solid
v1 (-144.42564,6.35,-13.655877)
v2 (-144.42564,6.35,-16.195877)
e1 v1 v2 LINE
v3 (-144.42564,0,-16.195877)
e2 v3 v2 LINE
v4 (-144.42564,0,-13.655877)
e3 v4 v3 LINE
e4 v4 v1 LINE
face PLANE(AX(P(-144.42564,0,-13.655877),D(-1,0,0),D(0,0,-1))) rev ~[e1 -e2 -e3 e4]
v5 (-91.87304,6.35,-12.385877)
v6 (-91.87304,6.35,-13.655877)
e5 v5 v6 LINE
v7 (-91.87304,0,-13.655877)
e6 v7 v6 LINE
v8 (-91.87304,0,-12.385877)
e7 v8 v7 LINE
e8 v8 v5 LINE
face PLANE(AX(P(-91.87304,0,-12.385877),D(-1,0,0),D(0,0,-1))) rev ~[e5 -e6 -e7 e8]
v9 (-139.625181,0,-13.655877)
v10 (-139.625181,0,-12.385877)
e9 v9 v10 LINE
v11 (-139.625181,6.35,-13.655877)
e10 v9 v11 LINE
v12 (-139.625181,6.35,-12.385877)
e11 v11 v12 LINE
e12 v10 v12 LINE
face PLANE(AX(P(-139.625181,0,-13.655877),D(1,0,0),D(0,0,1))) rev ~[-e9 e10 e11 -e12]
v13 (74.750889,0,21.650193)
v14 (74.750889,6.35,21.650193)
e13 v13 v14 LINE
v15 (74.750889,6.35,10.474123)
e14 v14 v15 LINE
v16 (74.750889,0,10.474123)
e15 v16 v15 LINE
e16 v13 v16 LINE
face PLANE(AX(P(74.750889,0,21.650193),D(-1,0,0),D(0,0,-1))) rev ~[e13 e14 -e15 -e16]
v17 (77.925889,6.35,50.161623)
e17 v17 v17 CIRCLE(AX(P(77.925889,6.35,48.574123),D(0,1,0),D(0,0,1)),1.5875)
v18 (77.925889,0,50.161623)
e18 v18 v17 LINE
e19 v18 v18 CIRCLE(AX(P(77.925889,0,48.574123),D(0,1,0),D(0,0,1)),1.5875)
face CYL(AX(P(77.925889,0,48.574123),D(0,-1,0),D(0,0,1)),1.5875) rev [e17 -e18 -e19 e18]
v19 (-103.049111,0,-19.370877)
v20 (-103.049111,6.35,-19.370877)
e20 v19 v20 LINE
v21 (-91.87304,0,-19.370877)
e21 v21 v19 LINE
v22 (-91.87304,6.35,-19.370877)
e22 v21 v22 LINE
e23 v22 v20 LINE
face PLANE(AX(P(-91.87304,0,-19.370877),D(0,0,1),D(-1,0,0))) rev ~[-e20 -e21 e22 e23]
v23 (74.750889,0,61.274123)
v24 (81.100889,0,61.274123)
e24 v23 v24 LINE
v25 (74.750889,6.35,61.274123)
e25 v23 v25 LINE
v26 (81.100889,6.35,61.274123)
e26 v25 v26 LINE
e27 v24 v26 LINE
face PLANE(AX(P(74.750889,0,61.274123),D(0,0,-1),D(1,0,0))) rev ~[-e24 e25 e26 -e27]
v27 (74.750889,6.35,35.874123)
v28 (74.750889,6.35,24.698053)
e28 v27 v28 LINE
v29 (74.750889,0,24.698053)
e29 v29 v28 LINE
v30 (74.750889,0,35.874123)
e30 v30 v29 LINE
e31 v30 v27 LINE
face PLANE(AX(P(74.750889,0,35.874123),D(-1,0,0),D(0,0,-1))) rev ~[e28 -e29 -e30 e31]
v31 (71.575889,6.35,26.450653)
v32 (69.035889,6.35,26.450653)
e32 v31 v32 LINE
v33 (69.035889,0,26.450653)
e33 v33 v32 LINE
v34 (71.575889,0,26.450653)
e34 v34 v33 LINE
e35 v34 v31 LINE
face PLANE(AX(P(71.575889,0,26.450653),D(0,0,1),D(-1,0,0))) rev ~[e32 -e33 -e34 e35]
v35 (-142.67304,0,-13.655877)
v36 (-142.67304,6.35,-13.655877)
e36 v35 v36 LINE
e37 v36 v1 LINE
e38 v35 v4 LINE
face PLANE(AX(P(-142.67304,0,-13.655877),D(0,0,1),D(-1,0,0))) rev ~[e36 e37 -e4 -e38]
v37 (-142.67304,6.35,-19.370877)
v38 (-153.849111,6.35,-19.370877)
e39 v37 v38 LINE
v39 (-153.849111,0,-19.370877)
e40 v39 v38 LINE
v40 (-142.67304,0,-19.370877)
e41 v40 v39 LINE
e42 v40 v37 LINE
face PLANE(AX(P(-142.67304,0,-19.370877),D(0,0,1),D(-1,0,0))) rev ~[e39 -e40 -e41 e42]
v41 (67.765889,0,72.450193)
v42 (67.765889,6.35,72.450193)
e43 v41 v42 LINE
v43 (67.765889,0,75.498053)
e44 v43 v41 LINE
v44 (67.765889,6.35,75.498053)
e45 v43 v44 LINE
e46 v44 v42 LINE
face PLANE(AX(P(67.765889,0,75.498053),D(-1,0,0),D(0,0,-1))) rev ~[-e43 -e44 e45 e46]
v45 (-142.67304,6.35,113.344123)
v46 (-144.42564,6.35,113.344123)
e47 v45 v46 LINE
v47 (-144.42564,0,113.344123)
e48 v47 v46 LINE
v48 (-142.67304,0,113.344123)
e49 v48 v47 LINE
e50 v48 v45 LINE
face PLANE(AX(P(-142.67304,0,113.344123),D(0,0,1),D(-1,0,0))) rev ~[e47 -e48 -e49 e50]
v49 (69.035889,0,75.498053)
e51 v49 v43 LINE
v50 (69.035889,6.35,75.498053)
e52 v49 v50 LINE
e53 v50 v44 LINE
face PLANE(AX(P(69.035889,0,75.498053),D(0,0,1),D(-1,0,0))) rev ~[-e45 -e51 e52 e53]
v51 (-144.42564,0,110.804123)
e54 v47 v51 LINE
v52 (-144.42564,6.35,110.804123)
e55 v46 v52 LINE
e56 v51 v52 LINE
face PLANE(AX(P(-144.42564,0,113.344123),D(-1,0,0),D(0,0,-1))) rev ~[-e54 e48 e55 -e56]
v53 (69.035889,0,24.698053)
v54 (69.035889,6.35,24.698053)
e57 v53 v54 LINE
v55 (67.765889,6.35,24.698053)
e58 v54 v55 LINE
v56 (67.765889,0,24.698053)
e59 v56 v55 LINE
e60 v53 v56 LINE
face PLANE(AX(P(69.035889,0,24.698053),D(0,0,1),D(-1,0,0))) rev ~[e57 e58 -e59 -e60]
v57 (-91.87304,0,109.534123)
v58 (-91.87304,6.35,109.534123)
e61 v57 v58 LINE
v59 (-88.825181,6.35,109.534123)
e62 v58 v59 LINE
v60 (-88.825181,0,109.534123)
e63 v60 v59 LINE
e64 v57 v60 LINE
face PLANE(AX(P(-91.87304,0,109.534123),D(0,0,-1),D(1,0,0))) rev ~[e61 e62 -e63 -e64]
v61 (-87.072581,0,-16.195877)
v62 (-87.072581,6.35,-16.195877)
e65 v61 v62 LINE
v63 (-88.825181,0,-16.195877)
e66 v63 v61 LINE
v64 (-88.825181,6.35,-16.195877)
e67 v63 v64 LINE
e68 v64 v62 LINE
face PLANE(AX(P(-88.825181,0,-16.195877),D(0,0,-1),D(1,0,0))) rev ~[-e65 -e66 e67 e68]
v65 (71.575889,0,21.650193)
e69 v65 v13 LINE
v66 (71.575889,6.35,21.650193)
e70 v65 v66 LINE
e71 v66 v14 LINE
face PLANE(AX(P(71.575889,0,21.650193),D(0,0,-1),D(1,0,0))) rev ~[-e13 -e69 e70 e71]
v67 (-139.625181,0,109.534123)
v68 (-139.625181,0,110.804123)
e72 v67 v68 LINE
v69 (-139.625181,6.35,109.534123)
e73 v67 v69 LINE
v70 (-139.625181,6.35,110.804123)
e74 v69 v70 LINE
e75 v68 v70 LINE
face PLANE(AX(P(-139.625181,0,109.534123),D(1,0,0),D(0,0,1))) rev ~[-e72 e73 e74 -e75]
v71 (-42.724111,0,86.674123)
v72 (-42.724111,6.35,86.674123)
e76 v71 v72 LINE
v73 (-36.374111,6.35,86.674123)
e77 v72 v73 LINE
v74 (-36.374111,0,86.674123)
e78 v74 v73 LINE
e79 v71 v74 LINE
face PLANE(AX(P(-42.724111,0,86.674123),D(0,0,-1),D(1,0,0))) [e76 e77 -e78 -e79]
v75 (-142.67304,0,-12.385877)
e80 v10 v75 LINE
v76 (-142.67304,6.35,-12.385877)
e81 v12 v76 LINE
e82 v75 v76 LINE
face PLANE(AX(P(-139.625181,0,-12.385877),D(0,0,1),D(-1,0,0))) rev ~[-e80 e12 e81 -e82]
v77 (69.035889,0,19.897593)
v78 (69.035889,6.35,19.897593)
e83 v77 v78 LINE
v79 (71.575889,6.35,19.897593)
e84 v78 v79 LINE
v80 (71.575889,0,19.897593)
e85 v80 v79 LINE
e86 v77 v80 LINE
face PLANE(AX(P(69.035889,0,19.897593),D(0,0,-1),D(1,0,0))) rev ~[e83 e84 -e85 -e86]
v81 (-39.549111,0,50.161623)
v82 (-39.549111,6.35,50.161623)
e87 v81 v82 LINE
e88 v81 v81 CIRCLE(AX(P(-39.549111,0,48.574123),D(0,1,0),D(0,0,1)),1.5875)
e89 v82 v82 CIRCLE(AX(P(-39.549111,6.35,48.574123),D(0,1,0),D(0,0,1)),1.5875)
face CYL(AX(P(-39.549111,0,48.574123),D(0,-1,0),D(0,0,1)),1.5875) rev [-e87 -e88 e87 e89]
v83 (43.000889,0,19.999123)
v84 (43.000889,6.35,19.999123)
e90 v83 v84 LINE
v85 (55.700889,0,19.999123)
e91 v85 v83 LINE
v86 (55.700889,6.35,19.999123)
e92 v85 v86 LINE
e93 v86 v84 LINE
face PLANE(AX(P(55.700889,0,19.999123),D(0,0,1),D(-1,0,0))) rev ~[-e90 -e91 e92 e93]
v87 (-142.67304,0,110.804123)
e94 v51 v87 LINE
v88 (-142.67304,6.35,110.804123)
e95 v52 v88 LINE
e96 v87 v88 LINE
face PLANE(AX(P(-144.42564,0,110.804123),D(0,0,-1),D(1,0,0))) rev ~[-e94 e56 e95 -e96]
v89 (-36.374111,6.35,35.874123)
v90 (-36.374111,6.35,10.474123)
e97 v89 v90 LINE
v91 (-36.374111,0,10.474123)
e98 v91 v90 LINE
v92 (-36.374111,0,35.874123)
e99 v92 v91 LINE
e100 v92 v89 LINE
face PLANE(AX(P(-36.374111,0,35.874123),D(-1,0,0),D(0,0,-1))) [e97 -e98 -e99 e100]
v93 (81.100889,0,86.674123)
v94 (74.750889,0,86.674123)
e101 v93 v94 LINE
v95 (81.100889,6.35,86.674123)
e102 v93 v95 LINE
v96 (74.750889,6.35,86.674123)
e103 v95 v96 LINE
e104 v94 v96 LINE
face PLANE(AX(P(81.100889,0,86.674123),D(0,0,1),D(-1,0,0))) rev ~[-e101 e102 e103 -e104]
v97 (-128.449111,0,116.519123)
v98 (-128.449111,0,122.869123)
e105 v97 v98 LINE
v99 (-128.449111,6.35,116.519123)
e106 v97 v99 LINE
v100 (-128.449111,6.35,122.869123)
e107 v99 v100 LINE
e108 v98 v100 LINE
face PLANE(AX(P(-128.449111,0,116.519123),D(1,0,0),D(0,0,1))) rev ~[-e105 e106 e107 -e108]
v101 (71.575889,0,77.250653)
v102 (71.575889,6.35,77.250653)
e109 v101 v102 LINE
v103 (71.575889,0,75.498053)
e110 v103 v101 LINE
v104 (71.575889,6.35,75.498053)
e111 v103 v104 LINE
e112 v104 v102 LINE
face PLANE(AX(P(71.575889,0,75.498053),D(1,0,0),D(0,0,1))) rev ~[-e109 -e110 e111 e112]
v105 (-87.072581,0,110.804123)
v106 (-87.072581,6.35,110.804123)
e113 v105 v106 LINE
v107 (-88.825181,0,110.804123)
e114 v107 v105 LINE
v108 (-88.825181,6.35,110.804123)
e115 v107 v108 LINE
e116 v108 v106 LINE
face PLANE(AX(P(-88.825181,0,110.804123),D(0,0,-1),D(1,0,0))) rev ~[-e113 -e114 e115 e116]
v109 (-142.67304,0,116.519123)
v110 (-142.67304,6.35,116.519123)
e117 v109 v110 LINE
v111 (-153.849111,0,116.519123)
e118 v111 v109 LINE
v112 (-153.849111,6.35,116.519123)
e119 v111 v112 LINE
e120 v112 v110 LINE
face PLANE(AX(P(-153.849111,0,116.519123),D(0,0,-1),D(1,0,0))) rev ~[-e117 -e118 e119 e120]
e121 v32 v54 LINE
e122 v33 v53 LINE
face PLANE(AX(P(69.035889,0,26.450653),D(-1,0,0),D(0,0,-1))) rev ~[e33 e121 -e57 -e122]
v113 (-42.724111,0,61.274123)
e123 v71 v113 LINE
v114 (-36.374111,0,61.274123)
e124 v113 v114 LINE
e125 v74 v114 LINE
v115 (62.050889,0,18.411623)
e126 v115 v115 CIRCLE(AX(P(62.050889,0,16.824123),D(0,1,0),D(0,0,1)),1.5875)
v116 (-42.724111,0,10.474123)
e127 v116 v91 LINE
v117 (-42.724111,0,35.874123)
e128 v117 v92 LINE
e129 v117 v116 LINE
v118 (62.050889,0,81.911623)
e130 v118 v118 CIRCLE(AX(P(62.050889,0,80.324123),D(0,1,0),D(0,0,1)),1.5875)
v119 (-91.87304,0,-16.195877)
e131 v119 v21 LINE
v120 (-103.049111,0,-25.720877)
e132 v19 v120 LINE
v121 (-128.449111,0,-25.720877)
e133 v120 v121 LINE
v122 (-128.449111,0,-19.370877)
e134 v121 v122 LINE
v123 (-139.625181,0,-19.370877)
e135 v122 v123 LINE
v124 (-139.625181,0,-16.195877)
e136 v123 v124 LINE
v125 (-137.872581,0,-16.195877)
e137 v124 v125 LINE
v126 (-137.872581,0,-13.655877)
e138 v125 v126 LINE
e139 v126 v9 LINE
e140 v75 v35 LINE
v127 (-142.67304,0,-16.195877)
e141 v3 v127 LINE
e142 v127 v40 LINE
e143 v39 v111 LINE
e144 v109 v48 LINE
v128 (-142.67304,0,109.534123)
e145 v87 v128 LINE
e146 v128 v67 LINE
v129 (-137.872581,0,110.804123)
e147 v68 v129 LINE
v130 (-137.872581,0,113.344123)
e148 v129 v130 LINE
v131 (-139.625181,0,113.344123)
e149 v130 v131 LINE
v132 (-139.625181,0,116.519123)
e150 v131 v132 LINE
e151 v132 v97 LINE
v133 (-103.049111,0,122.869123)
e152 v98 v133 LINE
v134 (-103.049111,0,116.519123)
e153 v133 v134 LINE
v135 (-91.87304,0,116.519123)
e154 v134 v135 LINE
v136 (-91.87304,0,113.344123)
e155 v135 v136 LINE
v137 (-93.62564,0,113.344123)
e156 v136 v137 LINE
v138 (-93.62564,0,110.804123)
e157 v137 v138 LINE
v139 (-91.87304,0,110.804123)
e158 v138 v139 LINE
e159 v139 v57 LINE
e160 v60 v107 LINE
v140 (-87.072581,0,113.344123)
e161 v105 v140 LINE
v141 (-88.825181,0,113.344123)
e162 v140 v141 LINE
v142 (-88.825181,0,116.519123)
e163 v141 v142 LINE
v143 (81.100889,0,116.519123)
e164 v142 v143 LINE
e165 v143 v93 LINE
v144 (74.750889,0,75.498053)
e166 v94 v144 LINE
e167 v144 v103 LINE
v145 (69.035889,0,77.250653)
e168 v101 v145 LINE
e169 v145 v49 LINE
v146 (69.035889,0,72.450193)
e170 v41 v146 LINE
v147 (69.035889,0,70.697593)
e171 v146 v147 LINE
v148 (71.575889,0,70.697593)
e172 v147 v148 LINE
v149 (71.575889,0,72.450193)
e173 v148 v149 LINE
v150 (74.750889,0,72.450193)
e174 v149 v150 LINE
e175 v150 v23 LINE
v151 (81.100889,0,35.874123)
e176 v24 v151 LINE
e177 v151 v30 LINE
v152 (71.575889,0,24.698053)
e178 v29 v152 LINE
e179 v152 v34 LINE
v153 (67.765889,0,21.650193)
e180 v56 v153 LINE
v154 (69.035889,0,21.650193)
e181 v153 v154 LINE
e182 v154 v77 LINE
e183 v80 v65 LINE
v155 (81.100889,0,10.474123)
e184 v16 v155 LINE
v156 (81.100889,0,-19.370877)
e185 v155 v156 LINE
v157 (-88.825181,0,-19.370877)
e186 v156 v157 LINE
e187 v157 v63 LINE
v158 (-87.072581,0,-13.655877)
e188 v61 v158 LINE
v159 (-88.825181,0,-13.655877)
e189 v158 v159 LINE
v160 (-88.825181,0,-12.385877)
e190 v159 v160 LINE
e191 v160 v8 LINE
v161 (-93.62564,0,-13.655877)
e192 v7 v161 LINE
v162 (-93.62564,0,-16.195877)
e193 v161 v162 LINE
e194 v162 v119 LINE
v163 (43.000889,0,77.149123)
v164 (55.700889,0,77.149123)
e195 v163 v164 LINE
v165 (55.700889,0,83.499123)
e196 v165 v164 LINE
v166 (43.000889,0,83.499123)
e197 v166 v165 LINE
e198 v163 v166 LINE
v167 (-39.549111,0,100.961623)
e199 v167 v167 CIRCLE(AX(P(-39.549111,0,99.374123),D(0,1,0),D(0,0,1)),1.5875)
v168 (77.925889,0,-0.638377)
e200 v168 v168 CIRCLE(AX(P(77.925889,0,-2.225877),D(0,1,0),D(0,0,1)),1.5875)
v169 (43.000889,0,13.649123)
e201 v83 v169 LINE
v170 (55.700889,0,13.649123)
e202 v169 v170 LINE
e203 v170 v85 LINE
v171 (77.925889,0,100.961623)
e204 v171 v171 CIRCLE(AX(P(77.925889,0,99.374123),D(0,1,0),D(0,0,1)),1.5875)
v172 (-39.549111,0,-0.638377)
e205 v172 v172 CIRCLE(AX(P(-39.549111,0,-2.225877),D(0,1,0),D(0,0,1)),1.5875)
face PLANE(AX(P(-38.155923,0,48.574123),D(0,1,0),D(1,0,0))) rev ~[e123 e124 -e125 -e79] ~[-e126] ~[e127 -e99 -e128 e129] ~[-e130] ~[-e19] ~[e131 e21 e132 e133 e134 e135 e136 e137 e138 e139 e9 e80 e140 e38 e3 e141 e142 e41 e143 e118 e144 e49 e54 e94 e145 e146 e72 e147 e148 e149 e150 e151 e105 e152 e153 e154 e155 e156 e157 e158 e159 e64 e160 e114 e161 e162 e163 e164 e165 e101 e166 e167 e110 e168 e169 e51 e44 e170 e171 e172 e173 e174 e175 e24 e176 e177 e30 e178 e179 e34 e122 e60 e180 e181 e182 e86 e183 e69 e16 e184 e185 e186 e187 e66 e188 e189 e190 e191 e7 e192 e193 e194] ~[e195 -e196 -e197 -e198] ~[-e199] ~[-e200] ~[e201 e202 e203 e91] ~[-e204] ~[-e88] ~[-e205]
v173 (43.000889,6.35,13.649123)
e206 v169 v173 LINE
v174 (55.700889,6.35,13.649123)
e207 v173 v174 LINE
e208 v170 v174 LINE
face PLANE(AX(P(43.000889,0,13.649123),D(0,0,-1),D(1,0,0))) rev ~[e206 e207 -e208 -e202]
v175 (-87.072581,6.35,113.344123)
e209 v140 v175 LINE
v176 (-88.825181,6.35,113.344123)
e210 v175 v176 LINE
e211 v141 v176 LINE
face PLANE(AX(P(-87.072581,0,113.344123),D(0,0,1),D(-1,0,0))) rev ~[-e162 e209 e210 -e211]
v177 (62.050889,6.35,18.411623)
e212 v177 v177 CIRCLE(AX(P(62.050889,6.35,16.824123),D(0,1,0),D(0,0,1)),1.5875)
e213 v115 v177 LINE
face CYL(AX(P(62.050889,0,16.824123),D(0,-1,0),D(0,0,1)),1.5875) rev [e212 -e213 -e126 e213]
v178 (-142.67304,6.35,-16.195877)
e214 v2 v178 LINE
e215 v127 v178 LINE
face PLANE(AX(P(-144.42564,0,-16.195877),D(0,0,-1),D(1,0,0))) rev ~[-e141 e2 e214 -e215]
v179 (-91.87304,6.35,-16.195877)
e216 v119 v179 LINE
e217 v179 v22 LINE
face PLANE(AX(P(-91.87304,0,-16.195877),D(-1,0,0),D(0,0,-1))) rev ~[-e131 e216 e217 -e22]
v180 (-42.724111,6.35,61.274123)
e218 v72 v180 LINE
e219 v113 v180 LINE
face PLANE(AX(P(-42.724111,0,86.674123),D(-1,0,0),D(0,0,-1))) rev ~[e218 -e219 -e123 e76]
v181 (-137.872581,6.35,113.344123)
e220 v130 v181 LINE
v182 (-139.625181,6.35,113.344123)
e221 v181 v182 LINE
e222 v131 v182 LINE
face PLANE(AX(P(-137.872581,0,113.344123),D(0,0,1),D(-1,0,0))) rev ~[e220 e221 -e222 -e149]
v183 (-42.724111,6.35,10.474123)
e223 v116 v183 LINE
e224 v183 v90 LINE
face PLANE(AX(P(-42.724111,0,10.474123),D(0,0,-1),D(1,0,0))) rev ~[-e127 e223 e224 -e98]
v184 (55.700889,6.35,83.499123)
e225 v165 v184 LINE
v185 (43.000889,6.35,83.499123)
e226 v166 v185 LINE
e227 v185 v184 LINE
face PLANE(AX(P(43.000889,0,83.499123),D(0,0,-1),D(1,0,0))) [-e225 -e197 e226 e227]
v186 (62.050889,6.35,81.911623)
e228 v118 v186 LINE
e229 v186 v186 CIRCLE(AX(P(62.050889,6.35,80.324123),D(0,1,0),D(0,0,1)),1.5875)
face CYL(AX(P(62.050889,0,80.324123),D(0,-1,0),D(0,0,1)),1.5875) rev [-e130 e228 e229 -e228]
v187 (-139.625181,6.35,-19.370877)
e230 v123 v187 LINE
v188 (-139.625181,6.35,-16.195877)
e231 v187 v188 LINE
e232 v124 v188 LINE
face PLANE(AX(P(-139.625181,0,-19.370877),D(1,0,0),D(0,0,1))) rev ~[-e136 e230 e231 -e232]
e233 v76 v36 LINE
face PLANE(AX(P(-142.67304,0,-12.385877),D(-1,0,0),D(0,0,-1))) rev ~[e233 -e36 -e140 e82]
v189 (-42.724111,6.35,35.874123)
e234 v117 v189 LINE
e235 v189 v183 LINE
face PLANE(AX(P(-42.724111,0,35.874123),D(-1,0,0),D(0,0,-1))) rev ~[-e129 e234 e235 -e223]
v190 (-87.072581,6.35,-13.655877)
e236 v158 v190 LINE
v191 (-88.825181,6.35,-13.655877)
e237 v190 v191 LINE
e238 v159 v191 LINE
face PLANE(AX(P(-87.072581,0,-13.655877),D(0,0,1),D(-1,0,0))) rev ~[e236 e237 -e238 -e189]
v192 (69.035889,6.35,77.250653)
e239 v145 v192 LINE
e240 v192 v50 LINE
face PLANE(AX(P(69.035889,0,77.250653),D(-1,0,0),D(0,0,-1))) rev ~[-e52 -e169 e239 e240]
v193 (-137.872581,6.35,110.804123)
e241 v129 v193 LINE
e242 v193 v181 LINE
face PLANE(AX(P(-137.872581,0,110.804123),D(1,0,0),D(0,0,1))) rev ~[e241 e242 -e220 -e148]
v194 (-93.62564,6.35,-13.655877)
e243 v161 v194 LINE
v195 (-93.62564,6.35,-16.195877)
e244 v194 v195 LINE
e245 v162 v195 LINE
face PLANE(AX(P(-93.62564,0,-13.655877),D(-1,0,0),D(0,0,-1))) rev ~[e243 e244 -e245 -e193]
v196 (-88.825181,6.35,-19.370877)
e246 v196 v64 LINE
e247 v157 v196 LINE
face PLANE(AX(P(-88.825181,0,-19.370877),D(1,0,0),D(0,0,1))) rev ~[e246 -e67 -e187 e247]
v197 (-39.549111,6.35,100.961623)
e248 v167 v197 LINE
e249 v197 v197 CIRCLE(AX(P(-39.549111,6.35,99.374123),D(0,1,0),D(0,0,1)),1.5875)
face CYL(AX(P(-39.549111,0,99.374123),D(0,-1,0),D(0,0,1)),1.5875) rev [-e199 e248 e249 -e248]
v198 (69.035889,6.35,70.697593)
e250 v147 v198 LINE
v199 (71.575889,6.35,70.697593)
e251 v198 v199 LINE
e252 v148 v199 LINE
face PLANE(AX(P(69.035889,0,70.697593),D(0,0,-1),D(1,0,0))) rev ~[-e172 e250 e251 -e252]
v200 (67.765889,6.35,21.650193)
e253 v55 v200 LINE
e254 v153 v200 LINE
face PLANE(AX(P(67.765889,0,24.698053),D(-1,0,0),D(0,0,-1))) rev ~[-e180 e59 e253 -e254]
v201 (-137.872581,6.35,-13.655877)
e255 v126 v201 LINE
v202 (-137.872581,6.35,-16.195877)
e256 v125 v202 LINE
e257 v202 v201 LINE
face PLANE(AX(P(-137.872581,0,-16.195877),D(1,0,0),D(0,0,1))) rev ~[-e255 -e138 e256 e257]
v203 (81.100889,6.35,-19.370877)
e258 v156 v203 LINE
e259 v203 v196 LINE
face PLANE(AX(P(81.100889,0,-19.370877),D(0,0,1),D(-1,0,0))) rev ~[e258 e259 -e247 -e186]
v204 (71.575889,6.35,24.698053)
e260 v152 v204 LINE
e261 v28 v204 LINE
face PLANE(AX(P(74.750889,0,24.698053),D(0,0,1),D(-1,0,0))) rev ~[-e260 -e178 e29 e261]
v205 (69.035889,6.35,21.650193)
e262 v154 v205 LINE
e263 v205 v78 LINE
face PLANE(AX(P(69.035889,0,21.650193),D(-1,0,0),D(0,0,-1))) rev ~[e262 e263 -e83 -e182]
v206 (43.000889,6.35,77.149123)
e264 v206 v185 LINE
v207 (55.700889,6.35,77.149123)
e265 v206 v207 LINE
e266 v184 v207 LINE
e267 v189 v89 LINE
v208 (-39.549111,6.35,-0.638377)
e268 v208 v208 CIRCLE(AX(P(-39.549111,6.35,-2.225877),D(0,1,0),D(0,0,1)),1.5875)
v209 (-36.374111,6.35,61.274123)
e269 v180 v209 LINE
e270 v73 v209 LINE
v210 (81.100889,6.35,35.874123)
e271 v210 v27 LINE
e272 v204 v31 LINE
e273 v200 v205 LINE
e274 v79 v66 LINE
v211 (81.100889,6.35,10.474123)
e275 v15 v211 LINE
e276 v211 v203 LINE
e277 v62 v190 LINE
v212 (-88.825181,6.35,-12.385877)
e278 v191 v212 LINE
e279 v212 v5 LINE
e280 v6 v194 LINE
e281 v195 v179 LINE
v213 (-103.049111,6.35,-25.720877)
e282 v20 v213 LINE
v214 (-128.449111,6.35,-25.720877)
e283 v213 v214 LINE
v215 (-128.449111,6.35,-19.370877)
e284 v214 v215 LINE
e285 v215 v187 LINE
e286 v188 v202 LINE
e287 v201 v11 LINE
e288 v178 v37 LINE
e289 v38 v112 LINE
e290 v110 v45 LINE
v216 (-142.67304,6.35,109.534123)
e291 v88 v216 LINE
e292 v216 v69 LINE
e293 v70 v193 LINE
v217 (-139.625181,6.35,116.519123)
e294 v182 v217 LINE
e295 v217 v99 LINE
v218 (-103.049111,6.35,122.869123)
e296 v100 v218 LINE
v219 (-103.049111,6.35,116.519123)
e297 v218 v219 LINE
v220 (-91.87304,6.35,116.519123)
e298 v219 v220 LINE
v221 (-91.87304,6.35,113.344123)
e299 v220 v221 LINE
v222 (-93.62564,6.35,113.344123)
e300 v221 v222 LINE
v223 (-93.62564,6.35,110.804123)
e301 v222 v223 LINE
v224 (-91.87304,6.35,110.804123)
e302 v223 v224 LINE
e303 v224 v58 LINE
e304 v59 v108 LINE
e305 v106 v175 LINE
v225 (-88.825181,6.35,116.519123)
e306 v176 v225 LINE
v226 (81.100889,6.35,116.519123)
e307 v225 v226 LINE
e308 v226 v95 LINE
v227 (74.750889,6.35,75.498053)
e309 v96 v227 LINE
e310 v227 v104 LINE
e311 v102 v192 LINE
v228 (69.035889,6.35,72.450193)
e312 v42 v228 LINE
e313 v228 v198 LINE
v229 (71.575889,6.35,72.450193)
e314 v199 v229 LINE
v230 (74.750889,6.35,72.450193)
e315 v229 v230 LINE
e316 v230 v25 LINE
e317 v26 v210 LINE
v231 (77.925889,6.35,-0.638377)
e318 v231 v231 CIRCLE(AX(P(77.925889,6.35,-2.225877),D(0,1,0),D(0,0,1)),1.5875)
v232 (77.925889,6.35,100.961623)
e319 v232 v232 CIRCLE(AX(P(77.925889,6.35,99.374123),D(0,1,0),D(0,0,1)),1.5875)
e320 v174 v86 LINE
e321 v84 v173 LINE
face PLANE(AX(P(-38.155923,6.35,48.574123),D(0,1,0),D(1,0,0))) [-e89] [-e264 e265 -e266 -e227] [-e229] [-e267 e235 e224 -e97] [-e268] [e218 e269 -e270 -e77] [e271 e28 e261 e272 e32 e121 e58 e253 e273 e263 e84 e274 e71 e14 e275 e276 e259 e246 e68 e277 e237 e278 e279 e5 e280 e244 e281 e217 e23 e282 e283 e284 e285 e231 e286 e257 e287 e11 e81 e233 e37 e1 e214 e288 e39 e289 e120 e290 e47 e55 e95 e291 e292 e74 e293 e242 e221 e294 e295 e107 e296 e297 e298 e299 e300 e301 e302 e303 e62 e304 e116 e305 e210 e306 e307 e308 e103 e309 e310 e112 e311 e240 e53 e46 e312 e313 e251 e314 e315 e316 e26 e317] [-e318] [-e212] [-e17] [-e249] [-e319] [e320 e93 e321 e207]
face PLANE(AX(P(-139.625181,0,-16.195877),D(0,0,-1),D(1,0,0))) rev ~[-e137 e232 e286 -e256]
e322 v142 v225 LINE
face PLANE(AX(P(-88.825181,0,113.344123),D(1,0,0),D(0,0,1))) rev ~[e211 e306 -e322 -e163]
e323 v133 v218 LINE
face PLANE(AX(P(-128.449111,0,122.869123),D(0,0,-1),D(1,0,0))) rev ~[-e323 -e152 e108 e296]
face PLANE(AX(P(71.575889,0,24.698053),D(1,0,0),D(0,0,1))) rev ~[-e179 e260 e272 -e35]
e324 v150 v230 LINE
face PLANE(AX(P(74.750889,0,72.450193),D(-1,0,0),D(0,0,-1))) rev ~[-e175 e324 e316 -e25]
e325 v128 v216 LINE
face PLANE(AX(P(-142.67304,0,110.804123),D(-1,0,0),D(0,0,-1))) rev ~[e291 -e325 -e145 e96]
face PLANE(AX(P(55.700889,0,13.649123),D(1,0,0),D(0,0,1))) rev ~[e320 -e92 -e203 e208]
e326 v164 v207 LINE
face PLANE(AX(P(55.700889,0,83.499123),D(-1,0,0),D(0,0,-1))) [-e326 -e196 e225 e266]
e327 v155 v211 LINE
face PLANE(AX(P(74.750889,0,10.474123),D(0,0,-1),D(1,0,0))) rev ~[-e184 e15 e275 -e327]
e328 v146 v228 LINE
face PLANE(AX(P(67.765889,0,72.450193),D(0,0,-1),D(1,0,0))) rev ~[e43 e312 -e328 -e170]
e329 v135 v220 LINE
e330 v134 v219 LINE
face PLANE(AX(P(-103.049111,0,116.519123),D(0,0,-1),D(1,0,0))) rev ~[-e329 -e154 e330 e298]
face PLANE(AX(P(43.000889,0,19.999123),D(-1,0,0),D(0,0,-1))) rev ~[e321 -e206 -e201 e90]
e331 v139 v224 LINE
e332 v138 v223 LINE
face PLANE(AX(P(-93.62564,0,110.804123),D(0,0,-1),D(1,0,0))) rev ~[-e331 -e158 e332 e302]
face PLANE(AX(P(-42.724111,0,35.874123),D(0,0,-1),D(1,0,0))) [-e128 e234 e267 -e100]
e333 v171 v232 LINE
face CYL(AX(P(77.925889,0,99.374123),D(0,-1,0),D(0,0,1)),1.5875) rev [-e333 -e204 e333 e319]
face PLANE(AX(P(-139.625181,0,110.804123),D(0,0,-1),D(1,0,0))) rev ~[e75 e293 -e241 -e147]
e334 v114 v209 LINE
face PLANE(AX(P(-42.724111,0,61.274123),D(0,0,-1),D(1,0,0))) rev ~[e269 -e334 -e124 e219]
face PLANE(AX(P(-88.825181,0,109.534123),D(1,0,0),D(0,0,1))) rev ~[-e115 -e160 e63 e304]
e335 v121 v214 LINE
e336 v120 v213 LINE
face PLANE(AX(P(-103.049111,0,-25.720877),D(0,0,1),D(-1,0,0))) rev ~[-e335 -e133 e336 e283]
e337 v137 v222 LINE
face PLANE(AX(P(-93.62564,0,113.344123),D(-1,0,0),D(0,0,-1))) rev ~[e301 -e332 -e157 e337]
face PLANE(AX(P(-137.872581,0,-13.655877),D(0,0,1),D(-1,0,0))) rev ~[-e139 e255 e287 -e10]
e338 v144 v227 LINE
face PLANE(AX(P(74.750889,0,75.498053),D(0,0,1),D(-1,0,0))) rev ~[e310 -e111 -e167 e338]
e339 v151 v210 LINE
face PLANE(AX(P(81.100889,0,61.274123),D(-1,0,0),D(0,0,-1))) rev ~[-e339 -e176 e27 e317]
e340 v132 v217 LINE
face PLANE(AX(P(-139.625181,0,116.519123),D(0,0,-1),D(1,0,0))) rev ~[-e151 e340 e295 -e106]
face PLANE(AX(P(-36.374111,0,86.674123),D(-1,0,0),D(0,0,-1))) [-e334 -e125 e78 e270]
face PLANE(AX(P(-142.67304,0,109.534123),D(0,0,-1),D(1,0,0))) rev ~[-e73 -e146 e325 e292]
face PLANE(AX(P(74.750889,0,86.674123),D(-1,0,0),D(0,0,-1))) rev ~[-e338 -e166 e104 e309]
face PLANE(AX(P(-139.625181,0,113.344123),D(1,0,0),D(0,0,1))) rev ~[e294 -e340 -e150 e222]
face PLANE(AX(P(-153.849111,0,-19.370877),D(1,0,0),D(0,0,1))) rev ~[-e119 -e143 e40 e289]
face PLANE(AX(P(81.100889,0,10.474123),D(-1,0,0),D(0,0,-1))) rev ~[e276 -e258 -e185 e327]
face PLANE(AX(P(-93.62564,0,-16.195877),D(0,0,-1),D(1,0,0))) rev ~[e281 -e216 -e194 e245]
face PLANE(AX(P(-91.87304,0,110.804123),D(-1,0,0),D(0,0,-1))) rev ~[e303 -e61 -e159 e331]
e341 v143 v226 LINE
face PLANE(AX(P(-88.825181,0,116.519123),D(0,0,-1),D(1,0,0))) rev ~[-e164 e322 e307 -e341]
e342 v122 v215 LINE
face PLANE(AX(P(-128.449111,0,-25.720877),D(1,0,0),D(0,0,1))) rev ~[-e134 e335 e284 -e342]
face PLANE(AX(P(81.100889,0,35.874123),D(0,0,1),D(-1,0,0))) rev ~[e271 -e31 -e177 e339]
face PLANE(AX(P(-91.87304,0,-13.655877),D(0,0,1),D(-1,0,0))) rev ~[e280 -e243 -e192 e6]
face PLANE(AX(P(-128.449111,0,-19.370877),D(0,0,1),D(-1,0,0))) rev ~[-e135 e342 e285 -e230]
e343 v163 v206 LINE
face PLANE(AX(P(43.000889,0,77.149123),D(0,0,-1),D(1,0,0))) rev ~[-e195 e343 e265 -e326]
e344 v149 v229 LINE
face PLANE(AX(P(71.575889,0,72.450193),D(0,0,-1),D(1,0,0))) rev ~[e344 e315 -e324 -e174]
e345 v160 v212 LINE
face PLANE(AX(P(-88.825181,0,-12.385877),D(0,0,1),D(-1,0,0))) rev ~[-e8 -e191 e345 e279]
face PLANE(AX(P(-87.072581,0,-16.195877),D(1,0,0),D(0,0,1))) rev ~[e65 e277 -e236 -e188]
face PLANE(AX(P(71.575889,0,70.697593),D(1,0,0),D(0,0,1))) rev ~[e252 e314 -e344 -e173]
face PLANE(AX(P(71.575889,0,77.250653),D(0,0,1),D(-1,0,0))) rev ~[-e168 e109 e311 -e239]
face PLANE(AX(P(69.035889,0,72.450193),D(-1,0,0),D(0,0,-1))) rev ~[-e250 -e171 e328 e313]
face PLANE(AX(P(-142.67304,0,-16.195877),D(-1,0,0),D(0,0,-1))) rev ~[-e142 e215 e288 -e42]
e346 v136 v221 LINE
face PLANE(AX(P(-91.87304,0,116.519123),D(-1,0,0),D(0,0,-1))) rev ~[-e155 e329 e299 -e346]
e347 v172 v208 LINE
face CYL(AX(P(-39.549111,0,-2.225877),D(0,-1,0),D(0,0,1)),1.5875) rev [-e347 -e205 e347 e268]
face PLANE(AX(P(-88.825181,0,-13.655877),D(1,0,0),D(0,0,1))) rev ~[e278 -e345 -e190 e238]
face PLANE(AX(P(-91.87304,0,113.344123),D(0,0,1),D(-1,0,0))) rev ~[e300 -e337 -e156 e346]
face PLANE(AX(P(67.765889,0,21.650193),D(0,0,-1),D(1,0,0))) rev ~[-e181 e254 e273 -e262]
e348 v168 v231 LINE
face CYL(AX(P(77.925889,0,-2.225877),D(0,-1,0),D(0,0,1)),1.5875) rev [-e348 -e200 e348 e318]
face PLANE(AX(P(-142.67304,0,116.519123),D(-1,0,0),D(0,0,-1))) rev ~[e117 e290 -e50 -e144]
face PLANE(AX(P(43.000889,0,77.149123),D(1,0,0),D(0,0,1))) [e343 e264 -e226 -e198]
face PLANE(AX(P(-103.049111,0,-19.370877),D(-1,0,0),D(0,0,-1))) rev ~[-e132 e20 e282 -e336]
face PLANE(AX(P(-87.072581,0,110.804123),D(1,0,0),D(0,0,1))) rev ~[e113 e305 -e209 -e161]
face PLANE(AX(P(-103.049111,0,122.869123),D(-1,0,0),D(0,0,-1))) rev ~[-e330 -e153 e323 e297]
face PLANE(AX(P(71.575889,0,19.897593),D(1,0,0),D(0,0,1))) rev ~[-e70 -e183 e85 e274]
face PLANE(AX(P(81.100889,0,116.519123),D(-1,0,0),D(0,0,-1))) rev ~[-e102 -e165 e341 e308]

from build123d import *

# Parameters (mm, degrees)
SKETCH1_R           = 1.5875
SKETCH1_W           = 6.35
SKETCH1_H           = 25.4
BOSS_EXTRUDE1_DEPTH = 6.35


with BuildPart() as part:
    # Sketch1 → Boss-Extrude1 (new body)
    with BuildSketch(Plane(origin=(0, 0, 0), x_dir=(1, 0, 0), z_dir=(0, 1, 0))):
        Polygon((-153.849110766, 19.370876928), (-153.849110766, -116.519123072), (-142.673040444, -116.519123072), (-142.673040444, -113.344123072), (-144.425640444, -113.344123072), (-144.425640444, -110.804123072), (-142.673040444, -110.804123072), (-142.673040444, -109.534123072), (-139.625181088, -109.534123072), (-139.625181088, -110.804123072), (-137.872581088, -110.804123072), (-137.872581088, -113.344123072), (-139.625181088, -113.344123072), (-139.625181088, -116.519123072), (-128.449110766, -116.519123072), (-128.449110766, -122.869123072), (-103.049110766, -122.869123072), (-103.049110766, -116.519123072), (-91.873040444, -116.519123072), (-91.873040444, -113.344123072), (-93.625640444, -113.344123072), (-93.625640444, -110.804123072), (-91.873040444, -110.804123072), (-91.873040444, -109.534123072), (-88.825181088, -109.534123072), (-88.825181088, -110.804123072), (-87.072581088, -110.804123072), (-87.072581088, -113.344123072), (-88.825181088, -113.344123072), (-88.825181088, -116.519123072), (-77.649110766, -116.519123072), (74.750889234, -116.519123072), (81.100889234, -116.519123072), (81.100889234, -86.674123072), (74.750889234, -86.674123072), (74.750889234, -75.49805275), (71.575889234, -75.49805275), (71.575889234, -77.25065275), (69.035889234, -77.25065275), (69.035889234, -75.49805275), (67.765889234, -75.49805275), (67.765889234, -72.450193394), (69.035889234, -72.450193394), (69.035889234, -70.697593394), (71.575889234, -70.697593394), (71.575889234, -72.450193394), (74.750889234, -72.450193394), (74.750889234, -61.274123072), (81.100889234, -61.274123072), (81.100889234, -35.874123072), (74.750889234, -35.874123072), (74.750889234, -24.69805275), (71.575889234, -24.69805275), (71.575889234, -26.45065275), (69.035889234, -26.45065275), (69.035889234, -24.69805275), (67.765889234, -24.69805275), (67.765889234, -21.650193394), (69.035889234, -21.650193394), (69.035889234, -19.897593394), (71.575889234, -19.897593394), (71.575889234, -21.650193394), (74.750889234, -21.650193394), (74.750889234, -10.474123072), (81.100889234, -10.474123072), (81.100889234, 19.370876928), (74.750889234, 19.370876928), (-77.649110766, 19.370876928), (-88.825181088, 19.370876928), (-88.825181088, 16.195876928), (-87.072581088, 16.195876928), (-87.072581088, 13.655876928), (-88.825181088, 13.655876928), (-88.825181088, 12.385876928), (-91.873040444, 12.385876928), (-91.873040444, 13.655876928), (-93.625640444, 13.655876928), (-93.625640444, 16.195876928), (-91.873040444, 16.195876928), (-91.873040444, 19.370876928), (-103.049110766, 19.370876928), (-103.049110766, 25.720876928), (-128.449110766, 25.720876928), (-128.449110766, 19.370876928), (-139.625181088, 19.370876928), (-139.625181088, 16.195876928), (-137.872581088, 16.195876928), (-137.872581088, 13.655876928), (-139.625181088, 13.655876928), (-139.625181088, 12.385876928), (-142.673040444, 12.385876928), (-142.673040444, 13.655876928), (-144.425640444, 13.655876928), (-144.425640444, 16.195876928), (-142.673040444, 16.195876928), (-142.673040444, 19.370876928), align=None)
        with Locations(Location((-39.549110766, 2.225876928, 0), (0, 0, 270))):
            Circle(SKETCH1_R, mode=Mode.SUBTRACT)
        with Locations(Location((-39.549110766, -48.574123072, 0), (0, 0, 270))):
            Circle(SKETCH1_R, mode=Mode.SUBTRACT)
        with Locations(Location((-39.549110766, -99.374123072, 0), (0, 0, 270))):
            Circle(SKETCH1_R, mode=Mode.SUBTRACT)
        with Locations(Location((77.925889234, 2.225876928, 0), (0, 0, 270))):
            Circle(SKETCH1_R, mode=Mode.SUBTRACT)
        with Locations(Location((77.925889234, -48.574123072, 0), (0, 0, 270))):
            Circle(SKETCH1_R, mode=Mode.SUBTRACT)
        with Locations(Location((77.925889234, -99.374123072, 0), (0, 0, 270))):
            Circle(SKETCH1_R, mode=Mode.SUBTRACT)
        with Locations(Location((62.050889234, -80.324123072, 0), (0, 0, 270))):
            Circle(SKETCH1_R, mode=Mode.SUBTRACT)
        with Locations(Location((62.050889234, -16.824123072, 0), (0, 0, 270))):
            Circle(SKETCH1_R, mode=Mode.SUBTRACT)
        with Locations((-39.549110766, -23.174123072)):
            Rectangle(SKETCH1_W, SKETCH1_H, mode=Mode.SUBTRACT)
        with Locations((-39.549110766, -73.974123072)):
            Rectangle(SKETCH1_W, SKETCH1_H, mode=Mode.SUBTRACT)
        Polygon((49.350889234, -77.149123072), (43.000889234, -77.149123072), (43.000889234, -83.499123072), (55.700889234, -83.499123072), (55.700889234, -77.149123072), align=None, mode=Mode.SUBTRACT)
        Polygon((49.350889234, -19.999123072), (43.000889234, -19.999123072), (43.000889234, -13.649123072), (55.700889234, -13.649123072), (55.700889234, -19.999123072), align=None, mode=Mode.SUBTRACT)
    extrude(amount=BOSS_EXTRUDE1_DEPTH)


solid = part.part
